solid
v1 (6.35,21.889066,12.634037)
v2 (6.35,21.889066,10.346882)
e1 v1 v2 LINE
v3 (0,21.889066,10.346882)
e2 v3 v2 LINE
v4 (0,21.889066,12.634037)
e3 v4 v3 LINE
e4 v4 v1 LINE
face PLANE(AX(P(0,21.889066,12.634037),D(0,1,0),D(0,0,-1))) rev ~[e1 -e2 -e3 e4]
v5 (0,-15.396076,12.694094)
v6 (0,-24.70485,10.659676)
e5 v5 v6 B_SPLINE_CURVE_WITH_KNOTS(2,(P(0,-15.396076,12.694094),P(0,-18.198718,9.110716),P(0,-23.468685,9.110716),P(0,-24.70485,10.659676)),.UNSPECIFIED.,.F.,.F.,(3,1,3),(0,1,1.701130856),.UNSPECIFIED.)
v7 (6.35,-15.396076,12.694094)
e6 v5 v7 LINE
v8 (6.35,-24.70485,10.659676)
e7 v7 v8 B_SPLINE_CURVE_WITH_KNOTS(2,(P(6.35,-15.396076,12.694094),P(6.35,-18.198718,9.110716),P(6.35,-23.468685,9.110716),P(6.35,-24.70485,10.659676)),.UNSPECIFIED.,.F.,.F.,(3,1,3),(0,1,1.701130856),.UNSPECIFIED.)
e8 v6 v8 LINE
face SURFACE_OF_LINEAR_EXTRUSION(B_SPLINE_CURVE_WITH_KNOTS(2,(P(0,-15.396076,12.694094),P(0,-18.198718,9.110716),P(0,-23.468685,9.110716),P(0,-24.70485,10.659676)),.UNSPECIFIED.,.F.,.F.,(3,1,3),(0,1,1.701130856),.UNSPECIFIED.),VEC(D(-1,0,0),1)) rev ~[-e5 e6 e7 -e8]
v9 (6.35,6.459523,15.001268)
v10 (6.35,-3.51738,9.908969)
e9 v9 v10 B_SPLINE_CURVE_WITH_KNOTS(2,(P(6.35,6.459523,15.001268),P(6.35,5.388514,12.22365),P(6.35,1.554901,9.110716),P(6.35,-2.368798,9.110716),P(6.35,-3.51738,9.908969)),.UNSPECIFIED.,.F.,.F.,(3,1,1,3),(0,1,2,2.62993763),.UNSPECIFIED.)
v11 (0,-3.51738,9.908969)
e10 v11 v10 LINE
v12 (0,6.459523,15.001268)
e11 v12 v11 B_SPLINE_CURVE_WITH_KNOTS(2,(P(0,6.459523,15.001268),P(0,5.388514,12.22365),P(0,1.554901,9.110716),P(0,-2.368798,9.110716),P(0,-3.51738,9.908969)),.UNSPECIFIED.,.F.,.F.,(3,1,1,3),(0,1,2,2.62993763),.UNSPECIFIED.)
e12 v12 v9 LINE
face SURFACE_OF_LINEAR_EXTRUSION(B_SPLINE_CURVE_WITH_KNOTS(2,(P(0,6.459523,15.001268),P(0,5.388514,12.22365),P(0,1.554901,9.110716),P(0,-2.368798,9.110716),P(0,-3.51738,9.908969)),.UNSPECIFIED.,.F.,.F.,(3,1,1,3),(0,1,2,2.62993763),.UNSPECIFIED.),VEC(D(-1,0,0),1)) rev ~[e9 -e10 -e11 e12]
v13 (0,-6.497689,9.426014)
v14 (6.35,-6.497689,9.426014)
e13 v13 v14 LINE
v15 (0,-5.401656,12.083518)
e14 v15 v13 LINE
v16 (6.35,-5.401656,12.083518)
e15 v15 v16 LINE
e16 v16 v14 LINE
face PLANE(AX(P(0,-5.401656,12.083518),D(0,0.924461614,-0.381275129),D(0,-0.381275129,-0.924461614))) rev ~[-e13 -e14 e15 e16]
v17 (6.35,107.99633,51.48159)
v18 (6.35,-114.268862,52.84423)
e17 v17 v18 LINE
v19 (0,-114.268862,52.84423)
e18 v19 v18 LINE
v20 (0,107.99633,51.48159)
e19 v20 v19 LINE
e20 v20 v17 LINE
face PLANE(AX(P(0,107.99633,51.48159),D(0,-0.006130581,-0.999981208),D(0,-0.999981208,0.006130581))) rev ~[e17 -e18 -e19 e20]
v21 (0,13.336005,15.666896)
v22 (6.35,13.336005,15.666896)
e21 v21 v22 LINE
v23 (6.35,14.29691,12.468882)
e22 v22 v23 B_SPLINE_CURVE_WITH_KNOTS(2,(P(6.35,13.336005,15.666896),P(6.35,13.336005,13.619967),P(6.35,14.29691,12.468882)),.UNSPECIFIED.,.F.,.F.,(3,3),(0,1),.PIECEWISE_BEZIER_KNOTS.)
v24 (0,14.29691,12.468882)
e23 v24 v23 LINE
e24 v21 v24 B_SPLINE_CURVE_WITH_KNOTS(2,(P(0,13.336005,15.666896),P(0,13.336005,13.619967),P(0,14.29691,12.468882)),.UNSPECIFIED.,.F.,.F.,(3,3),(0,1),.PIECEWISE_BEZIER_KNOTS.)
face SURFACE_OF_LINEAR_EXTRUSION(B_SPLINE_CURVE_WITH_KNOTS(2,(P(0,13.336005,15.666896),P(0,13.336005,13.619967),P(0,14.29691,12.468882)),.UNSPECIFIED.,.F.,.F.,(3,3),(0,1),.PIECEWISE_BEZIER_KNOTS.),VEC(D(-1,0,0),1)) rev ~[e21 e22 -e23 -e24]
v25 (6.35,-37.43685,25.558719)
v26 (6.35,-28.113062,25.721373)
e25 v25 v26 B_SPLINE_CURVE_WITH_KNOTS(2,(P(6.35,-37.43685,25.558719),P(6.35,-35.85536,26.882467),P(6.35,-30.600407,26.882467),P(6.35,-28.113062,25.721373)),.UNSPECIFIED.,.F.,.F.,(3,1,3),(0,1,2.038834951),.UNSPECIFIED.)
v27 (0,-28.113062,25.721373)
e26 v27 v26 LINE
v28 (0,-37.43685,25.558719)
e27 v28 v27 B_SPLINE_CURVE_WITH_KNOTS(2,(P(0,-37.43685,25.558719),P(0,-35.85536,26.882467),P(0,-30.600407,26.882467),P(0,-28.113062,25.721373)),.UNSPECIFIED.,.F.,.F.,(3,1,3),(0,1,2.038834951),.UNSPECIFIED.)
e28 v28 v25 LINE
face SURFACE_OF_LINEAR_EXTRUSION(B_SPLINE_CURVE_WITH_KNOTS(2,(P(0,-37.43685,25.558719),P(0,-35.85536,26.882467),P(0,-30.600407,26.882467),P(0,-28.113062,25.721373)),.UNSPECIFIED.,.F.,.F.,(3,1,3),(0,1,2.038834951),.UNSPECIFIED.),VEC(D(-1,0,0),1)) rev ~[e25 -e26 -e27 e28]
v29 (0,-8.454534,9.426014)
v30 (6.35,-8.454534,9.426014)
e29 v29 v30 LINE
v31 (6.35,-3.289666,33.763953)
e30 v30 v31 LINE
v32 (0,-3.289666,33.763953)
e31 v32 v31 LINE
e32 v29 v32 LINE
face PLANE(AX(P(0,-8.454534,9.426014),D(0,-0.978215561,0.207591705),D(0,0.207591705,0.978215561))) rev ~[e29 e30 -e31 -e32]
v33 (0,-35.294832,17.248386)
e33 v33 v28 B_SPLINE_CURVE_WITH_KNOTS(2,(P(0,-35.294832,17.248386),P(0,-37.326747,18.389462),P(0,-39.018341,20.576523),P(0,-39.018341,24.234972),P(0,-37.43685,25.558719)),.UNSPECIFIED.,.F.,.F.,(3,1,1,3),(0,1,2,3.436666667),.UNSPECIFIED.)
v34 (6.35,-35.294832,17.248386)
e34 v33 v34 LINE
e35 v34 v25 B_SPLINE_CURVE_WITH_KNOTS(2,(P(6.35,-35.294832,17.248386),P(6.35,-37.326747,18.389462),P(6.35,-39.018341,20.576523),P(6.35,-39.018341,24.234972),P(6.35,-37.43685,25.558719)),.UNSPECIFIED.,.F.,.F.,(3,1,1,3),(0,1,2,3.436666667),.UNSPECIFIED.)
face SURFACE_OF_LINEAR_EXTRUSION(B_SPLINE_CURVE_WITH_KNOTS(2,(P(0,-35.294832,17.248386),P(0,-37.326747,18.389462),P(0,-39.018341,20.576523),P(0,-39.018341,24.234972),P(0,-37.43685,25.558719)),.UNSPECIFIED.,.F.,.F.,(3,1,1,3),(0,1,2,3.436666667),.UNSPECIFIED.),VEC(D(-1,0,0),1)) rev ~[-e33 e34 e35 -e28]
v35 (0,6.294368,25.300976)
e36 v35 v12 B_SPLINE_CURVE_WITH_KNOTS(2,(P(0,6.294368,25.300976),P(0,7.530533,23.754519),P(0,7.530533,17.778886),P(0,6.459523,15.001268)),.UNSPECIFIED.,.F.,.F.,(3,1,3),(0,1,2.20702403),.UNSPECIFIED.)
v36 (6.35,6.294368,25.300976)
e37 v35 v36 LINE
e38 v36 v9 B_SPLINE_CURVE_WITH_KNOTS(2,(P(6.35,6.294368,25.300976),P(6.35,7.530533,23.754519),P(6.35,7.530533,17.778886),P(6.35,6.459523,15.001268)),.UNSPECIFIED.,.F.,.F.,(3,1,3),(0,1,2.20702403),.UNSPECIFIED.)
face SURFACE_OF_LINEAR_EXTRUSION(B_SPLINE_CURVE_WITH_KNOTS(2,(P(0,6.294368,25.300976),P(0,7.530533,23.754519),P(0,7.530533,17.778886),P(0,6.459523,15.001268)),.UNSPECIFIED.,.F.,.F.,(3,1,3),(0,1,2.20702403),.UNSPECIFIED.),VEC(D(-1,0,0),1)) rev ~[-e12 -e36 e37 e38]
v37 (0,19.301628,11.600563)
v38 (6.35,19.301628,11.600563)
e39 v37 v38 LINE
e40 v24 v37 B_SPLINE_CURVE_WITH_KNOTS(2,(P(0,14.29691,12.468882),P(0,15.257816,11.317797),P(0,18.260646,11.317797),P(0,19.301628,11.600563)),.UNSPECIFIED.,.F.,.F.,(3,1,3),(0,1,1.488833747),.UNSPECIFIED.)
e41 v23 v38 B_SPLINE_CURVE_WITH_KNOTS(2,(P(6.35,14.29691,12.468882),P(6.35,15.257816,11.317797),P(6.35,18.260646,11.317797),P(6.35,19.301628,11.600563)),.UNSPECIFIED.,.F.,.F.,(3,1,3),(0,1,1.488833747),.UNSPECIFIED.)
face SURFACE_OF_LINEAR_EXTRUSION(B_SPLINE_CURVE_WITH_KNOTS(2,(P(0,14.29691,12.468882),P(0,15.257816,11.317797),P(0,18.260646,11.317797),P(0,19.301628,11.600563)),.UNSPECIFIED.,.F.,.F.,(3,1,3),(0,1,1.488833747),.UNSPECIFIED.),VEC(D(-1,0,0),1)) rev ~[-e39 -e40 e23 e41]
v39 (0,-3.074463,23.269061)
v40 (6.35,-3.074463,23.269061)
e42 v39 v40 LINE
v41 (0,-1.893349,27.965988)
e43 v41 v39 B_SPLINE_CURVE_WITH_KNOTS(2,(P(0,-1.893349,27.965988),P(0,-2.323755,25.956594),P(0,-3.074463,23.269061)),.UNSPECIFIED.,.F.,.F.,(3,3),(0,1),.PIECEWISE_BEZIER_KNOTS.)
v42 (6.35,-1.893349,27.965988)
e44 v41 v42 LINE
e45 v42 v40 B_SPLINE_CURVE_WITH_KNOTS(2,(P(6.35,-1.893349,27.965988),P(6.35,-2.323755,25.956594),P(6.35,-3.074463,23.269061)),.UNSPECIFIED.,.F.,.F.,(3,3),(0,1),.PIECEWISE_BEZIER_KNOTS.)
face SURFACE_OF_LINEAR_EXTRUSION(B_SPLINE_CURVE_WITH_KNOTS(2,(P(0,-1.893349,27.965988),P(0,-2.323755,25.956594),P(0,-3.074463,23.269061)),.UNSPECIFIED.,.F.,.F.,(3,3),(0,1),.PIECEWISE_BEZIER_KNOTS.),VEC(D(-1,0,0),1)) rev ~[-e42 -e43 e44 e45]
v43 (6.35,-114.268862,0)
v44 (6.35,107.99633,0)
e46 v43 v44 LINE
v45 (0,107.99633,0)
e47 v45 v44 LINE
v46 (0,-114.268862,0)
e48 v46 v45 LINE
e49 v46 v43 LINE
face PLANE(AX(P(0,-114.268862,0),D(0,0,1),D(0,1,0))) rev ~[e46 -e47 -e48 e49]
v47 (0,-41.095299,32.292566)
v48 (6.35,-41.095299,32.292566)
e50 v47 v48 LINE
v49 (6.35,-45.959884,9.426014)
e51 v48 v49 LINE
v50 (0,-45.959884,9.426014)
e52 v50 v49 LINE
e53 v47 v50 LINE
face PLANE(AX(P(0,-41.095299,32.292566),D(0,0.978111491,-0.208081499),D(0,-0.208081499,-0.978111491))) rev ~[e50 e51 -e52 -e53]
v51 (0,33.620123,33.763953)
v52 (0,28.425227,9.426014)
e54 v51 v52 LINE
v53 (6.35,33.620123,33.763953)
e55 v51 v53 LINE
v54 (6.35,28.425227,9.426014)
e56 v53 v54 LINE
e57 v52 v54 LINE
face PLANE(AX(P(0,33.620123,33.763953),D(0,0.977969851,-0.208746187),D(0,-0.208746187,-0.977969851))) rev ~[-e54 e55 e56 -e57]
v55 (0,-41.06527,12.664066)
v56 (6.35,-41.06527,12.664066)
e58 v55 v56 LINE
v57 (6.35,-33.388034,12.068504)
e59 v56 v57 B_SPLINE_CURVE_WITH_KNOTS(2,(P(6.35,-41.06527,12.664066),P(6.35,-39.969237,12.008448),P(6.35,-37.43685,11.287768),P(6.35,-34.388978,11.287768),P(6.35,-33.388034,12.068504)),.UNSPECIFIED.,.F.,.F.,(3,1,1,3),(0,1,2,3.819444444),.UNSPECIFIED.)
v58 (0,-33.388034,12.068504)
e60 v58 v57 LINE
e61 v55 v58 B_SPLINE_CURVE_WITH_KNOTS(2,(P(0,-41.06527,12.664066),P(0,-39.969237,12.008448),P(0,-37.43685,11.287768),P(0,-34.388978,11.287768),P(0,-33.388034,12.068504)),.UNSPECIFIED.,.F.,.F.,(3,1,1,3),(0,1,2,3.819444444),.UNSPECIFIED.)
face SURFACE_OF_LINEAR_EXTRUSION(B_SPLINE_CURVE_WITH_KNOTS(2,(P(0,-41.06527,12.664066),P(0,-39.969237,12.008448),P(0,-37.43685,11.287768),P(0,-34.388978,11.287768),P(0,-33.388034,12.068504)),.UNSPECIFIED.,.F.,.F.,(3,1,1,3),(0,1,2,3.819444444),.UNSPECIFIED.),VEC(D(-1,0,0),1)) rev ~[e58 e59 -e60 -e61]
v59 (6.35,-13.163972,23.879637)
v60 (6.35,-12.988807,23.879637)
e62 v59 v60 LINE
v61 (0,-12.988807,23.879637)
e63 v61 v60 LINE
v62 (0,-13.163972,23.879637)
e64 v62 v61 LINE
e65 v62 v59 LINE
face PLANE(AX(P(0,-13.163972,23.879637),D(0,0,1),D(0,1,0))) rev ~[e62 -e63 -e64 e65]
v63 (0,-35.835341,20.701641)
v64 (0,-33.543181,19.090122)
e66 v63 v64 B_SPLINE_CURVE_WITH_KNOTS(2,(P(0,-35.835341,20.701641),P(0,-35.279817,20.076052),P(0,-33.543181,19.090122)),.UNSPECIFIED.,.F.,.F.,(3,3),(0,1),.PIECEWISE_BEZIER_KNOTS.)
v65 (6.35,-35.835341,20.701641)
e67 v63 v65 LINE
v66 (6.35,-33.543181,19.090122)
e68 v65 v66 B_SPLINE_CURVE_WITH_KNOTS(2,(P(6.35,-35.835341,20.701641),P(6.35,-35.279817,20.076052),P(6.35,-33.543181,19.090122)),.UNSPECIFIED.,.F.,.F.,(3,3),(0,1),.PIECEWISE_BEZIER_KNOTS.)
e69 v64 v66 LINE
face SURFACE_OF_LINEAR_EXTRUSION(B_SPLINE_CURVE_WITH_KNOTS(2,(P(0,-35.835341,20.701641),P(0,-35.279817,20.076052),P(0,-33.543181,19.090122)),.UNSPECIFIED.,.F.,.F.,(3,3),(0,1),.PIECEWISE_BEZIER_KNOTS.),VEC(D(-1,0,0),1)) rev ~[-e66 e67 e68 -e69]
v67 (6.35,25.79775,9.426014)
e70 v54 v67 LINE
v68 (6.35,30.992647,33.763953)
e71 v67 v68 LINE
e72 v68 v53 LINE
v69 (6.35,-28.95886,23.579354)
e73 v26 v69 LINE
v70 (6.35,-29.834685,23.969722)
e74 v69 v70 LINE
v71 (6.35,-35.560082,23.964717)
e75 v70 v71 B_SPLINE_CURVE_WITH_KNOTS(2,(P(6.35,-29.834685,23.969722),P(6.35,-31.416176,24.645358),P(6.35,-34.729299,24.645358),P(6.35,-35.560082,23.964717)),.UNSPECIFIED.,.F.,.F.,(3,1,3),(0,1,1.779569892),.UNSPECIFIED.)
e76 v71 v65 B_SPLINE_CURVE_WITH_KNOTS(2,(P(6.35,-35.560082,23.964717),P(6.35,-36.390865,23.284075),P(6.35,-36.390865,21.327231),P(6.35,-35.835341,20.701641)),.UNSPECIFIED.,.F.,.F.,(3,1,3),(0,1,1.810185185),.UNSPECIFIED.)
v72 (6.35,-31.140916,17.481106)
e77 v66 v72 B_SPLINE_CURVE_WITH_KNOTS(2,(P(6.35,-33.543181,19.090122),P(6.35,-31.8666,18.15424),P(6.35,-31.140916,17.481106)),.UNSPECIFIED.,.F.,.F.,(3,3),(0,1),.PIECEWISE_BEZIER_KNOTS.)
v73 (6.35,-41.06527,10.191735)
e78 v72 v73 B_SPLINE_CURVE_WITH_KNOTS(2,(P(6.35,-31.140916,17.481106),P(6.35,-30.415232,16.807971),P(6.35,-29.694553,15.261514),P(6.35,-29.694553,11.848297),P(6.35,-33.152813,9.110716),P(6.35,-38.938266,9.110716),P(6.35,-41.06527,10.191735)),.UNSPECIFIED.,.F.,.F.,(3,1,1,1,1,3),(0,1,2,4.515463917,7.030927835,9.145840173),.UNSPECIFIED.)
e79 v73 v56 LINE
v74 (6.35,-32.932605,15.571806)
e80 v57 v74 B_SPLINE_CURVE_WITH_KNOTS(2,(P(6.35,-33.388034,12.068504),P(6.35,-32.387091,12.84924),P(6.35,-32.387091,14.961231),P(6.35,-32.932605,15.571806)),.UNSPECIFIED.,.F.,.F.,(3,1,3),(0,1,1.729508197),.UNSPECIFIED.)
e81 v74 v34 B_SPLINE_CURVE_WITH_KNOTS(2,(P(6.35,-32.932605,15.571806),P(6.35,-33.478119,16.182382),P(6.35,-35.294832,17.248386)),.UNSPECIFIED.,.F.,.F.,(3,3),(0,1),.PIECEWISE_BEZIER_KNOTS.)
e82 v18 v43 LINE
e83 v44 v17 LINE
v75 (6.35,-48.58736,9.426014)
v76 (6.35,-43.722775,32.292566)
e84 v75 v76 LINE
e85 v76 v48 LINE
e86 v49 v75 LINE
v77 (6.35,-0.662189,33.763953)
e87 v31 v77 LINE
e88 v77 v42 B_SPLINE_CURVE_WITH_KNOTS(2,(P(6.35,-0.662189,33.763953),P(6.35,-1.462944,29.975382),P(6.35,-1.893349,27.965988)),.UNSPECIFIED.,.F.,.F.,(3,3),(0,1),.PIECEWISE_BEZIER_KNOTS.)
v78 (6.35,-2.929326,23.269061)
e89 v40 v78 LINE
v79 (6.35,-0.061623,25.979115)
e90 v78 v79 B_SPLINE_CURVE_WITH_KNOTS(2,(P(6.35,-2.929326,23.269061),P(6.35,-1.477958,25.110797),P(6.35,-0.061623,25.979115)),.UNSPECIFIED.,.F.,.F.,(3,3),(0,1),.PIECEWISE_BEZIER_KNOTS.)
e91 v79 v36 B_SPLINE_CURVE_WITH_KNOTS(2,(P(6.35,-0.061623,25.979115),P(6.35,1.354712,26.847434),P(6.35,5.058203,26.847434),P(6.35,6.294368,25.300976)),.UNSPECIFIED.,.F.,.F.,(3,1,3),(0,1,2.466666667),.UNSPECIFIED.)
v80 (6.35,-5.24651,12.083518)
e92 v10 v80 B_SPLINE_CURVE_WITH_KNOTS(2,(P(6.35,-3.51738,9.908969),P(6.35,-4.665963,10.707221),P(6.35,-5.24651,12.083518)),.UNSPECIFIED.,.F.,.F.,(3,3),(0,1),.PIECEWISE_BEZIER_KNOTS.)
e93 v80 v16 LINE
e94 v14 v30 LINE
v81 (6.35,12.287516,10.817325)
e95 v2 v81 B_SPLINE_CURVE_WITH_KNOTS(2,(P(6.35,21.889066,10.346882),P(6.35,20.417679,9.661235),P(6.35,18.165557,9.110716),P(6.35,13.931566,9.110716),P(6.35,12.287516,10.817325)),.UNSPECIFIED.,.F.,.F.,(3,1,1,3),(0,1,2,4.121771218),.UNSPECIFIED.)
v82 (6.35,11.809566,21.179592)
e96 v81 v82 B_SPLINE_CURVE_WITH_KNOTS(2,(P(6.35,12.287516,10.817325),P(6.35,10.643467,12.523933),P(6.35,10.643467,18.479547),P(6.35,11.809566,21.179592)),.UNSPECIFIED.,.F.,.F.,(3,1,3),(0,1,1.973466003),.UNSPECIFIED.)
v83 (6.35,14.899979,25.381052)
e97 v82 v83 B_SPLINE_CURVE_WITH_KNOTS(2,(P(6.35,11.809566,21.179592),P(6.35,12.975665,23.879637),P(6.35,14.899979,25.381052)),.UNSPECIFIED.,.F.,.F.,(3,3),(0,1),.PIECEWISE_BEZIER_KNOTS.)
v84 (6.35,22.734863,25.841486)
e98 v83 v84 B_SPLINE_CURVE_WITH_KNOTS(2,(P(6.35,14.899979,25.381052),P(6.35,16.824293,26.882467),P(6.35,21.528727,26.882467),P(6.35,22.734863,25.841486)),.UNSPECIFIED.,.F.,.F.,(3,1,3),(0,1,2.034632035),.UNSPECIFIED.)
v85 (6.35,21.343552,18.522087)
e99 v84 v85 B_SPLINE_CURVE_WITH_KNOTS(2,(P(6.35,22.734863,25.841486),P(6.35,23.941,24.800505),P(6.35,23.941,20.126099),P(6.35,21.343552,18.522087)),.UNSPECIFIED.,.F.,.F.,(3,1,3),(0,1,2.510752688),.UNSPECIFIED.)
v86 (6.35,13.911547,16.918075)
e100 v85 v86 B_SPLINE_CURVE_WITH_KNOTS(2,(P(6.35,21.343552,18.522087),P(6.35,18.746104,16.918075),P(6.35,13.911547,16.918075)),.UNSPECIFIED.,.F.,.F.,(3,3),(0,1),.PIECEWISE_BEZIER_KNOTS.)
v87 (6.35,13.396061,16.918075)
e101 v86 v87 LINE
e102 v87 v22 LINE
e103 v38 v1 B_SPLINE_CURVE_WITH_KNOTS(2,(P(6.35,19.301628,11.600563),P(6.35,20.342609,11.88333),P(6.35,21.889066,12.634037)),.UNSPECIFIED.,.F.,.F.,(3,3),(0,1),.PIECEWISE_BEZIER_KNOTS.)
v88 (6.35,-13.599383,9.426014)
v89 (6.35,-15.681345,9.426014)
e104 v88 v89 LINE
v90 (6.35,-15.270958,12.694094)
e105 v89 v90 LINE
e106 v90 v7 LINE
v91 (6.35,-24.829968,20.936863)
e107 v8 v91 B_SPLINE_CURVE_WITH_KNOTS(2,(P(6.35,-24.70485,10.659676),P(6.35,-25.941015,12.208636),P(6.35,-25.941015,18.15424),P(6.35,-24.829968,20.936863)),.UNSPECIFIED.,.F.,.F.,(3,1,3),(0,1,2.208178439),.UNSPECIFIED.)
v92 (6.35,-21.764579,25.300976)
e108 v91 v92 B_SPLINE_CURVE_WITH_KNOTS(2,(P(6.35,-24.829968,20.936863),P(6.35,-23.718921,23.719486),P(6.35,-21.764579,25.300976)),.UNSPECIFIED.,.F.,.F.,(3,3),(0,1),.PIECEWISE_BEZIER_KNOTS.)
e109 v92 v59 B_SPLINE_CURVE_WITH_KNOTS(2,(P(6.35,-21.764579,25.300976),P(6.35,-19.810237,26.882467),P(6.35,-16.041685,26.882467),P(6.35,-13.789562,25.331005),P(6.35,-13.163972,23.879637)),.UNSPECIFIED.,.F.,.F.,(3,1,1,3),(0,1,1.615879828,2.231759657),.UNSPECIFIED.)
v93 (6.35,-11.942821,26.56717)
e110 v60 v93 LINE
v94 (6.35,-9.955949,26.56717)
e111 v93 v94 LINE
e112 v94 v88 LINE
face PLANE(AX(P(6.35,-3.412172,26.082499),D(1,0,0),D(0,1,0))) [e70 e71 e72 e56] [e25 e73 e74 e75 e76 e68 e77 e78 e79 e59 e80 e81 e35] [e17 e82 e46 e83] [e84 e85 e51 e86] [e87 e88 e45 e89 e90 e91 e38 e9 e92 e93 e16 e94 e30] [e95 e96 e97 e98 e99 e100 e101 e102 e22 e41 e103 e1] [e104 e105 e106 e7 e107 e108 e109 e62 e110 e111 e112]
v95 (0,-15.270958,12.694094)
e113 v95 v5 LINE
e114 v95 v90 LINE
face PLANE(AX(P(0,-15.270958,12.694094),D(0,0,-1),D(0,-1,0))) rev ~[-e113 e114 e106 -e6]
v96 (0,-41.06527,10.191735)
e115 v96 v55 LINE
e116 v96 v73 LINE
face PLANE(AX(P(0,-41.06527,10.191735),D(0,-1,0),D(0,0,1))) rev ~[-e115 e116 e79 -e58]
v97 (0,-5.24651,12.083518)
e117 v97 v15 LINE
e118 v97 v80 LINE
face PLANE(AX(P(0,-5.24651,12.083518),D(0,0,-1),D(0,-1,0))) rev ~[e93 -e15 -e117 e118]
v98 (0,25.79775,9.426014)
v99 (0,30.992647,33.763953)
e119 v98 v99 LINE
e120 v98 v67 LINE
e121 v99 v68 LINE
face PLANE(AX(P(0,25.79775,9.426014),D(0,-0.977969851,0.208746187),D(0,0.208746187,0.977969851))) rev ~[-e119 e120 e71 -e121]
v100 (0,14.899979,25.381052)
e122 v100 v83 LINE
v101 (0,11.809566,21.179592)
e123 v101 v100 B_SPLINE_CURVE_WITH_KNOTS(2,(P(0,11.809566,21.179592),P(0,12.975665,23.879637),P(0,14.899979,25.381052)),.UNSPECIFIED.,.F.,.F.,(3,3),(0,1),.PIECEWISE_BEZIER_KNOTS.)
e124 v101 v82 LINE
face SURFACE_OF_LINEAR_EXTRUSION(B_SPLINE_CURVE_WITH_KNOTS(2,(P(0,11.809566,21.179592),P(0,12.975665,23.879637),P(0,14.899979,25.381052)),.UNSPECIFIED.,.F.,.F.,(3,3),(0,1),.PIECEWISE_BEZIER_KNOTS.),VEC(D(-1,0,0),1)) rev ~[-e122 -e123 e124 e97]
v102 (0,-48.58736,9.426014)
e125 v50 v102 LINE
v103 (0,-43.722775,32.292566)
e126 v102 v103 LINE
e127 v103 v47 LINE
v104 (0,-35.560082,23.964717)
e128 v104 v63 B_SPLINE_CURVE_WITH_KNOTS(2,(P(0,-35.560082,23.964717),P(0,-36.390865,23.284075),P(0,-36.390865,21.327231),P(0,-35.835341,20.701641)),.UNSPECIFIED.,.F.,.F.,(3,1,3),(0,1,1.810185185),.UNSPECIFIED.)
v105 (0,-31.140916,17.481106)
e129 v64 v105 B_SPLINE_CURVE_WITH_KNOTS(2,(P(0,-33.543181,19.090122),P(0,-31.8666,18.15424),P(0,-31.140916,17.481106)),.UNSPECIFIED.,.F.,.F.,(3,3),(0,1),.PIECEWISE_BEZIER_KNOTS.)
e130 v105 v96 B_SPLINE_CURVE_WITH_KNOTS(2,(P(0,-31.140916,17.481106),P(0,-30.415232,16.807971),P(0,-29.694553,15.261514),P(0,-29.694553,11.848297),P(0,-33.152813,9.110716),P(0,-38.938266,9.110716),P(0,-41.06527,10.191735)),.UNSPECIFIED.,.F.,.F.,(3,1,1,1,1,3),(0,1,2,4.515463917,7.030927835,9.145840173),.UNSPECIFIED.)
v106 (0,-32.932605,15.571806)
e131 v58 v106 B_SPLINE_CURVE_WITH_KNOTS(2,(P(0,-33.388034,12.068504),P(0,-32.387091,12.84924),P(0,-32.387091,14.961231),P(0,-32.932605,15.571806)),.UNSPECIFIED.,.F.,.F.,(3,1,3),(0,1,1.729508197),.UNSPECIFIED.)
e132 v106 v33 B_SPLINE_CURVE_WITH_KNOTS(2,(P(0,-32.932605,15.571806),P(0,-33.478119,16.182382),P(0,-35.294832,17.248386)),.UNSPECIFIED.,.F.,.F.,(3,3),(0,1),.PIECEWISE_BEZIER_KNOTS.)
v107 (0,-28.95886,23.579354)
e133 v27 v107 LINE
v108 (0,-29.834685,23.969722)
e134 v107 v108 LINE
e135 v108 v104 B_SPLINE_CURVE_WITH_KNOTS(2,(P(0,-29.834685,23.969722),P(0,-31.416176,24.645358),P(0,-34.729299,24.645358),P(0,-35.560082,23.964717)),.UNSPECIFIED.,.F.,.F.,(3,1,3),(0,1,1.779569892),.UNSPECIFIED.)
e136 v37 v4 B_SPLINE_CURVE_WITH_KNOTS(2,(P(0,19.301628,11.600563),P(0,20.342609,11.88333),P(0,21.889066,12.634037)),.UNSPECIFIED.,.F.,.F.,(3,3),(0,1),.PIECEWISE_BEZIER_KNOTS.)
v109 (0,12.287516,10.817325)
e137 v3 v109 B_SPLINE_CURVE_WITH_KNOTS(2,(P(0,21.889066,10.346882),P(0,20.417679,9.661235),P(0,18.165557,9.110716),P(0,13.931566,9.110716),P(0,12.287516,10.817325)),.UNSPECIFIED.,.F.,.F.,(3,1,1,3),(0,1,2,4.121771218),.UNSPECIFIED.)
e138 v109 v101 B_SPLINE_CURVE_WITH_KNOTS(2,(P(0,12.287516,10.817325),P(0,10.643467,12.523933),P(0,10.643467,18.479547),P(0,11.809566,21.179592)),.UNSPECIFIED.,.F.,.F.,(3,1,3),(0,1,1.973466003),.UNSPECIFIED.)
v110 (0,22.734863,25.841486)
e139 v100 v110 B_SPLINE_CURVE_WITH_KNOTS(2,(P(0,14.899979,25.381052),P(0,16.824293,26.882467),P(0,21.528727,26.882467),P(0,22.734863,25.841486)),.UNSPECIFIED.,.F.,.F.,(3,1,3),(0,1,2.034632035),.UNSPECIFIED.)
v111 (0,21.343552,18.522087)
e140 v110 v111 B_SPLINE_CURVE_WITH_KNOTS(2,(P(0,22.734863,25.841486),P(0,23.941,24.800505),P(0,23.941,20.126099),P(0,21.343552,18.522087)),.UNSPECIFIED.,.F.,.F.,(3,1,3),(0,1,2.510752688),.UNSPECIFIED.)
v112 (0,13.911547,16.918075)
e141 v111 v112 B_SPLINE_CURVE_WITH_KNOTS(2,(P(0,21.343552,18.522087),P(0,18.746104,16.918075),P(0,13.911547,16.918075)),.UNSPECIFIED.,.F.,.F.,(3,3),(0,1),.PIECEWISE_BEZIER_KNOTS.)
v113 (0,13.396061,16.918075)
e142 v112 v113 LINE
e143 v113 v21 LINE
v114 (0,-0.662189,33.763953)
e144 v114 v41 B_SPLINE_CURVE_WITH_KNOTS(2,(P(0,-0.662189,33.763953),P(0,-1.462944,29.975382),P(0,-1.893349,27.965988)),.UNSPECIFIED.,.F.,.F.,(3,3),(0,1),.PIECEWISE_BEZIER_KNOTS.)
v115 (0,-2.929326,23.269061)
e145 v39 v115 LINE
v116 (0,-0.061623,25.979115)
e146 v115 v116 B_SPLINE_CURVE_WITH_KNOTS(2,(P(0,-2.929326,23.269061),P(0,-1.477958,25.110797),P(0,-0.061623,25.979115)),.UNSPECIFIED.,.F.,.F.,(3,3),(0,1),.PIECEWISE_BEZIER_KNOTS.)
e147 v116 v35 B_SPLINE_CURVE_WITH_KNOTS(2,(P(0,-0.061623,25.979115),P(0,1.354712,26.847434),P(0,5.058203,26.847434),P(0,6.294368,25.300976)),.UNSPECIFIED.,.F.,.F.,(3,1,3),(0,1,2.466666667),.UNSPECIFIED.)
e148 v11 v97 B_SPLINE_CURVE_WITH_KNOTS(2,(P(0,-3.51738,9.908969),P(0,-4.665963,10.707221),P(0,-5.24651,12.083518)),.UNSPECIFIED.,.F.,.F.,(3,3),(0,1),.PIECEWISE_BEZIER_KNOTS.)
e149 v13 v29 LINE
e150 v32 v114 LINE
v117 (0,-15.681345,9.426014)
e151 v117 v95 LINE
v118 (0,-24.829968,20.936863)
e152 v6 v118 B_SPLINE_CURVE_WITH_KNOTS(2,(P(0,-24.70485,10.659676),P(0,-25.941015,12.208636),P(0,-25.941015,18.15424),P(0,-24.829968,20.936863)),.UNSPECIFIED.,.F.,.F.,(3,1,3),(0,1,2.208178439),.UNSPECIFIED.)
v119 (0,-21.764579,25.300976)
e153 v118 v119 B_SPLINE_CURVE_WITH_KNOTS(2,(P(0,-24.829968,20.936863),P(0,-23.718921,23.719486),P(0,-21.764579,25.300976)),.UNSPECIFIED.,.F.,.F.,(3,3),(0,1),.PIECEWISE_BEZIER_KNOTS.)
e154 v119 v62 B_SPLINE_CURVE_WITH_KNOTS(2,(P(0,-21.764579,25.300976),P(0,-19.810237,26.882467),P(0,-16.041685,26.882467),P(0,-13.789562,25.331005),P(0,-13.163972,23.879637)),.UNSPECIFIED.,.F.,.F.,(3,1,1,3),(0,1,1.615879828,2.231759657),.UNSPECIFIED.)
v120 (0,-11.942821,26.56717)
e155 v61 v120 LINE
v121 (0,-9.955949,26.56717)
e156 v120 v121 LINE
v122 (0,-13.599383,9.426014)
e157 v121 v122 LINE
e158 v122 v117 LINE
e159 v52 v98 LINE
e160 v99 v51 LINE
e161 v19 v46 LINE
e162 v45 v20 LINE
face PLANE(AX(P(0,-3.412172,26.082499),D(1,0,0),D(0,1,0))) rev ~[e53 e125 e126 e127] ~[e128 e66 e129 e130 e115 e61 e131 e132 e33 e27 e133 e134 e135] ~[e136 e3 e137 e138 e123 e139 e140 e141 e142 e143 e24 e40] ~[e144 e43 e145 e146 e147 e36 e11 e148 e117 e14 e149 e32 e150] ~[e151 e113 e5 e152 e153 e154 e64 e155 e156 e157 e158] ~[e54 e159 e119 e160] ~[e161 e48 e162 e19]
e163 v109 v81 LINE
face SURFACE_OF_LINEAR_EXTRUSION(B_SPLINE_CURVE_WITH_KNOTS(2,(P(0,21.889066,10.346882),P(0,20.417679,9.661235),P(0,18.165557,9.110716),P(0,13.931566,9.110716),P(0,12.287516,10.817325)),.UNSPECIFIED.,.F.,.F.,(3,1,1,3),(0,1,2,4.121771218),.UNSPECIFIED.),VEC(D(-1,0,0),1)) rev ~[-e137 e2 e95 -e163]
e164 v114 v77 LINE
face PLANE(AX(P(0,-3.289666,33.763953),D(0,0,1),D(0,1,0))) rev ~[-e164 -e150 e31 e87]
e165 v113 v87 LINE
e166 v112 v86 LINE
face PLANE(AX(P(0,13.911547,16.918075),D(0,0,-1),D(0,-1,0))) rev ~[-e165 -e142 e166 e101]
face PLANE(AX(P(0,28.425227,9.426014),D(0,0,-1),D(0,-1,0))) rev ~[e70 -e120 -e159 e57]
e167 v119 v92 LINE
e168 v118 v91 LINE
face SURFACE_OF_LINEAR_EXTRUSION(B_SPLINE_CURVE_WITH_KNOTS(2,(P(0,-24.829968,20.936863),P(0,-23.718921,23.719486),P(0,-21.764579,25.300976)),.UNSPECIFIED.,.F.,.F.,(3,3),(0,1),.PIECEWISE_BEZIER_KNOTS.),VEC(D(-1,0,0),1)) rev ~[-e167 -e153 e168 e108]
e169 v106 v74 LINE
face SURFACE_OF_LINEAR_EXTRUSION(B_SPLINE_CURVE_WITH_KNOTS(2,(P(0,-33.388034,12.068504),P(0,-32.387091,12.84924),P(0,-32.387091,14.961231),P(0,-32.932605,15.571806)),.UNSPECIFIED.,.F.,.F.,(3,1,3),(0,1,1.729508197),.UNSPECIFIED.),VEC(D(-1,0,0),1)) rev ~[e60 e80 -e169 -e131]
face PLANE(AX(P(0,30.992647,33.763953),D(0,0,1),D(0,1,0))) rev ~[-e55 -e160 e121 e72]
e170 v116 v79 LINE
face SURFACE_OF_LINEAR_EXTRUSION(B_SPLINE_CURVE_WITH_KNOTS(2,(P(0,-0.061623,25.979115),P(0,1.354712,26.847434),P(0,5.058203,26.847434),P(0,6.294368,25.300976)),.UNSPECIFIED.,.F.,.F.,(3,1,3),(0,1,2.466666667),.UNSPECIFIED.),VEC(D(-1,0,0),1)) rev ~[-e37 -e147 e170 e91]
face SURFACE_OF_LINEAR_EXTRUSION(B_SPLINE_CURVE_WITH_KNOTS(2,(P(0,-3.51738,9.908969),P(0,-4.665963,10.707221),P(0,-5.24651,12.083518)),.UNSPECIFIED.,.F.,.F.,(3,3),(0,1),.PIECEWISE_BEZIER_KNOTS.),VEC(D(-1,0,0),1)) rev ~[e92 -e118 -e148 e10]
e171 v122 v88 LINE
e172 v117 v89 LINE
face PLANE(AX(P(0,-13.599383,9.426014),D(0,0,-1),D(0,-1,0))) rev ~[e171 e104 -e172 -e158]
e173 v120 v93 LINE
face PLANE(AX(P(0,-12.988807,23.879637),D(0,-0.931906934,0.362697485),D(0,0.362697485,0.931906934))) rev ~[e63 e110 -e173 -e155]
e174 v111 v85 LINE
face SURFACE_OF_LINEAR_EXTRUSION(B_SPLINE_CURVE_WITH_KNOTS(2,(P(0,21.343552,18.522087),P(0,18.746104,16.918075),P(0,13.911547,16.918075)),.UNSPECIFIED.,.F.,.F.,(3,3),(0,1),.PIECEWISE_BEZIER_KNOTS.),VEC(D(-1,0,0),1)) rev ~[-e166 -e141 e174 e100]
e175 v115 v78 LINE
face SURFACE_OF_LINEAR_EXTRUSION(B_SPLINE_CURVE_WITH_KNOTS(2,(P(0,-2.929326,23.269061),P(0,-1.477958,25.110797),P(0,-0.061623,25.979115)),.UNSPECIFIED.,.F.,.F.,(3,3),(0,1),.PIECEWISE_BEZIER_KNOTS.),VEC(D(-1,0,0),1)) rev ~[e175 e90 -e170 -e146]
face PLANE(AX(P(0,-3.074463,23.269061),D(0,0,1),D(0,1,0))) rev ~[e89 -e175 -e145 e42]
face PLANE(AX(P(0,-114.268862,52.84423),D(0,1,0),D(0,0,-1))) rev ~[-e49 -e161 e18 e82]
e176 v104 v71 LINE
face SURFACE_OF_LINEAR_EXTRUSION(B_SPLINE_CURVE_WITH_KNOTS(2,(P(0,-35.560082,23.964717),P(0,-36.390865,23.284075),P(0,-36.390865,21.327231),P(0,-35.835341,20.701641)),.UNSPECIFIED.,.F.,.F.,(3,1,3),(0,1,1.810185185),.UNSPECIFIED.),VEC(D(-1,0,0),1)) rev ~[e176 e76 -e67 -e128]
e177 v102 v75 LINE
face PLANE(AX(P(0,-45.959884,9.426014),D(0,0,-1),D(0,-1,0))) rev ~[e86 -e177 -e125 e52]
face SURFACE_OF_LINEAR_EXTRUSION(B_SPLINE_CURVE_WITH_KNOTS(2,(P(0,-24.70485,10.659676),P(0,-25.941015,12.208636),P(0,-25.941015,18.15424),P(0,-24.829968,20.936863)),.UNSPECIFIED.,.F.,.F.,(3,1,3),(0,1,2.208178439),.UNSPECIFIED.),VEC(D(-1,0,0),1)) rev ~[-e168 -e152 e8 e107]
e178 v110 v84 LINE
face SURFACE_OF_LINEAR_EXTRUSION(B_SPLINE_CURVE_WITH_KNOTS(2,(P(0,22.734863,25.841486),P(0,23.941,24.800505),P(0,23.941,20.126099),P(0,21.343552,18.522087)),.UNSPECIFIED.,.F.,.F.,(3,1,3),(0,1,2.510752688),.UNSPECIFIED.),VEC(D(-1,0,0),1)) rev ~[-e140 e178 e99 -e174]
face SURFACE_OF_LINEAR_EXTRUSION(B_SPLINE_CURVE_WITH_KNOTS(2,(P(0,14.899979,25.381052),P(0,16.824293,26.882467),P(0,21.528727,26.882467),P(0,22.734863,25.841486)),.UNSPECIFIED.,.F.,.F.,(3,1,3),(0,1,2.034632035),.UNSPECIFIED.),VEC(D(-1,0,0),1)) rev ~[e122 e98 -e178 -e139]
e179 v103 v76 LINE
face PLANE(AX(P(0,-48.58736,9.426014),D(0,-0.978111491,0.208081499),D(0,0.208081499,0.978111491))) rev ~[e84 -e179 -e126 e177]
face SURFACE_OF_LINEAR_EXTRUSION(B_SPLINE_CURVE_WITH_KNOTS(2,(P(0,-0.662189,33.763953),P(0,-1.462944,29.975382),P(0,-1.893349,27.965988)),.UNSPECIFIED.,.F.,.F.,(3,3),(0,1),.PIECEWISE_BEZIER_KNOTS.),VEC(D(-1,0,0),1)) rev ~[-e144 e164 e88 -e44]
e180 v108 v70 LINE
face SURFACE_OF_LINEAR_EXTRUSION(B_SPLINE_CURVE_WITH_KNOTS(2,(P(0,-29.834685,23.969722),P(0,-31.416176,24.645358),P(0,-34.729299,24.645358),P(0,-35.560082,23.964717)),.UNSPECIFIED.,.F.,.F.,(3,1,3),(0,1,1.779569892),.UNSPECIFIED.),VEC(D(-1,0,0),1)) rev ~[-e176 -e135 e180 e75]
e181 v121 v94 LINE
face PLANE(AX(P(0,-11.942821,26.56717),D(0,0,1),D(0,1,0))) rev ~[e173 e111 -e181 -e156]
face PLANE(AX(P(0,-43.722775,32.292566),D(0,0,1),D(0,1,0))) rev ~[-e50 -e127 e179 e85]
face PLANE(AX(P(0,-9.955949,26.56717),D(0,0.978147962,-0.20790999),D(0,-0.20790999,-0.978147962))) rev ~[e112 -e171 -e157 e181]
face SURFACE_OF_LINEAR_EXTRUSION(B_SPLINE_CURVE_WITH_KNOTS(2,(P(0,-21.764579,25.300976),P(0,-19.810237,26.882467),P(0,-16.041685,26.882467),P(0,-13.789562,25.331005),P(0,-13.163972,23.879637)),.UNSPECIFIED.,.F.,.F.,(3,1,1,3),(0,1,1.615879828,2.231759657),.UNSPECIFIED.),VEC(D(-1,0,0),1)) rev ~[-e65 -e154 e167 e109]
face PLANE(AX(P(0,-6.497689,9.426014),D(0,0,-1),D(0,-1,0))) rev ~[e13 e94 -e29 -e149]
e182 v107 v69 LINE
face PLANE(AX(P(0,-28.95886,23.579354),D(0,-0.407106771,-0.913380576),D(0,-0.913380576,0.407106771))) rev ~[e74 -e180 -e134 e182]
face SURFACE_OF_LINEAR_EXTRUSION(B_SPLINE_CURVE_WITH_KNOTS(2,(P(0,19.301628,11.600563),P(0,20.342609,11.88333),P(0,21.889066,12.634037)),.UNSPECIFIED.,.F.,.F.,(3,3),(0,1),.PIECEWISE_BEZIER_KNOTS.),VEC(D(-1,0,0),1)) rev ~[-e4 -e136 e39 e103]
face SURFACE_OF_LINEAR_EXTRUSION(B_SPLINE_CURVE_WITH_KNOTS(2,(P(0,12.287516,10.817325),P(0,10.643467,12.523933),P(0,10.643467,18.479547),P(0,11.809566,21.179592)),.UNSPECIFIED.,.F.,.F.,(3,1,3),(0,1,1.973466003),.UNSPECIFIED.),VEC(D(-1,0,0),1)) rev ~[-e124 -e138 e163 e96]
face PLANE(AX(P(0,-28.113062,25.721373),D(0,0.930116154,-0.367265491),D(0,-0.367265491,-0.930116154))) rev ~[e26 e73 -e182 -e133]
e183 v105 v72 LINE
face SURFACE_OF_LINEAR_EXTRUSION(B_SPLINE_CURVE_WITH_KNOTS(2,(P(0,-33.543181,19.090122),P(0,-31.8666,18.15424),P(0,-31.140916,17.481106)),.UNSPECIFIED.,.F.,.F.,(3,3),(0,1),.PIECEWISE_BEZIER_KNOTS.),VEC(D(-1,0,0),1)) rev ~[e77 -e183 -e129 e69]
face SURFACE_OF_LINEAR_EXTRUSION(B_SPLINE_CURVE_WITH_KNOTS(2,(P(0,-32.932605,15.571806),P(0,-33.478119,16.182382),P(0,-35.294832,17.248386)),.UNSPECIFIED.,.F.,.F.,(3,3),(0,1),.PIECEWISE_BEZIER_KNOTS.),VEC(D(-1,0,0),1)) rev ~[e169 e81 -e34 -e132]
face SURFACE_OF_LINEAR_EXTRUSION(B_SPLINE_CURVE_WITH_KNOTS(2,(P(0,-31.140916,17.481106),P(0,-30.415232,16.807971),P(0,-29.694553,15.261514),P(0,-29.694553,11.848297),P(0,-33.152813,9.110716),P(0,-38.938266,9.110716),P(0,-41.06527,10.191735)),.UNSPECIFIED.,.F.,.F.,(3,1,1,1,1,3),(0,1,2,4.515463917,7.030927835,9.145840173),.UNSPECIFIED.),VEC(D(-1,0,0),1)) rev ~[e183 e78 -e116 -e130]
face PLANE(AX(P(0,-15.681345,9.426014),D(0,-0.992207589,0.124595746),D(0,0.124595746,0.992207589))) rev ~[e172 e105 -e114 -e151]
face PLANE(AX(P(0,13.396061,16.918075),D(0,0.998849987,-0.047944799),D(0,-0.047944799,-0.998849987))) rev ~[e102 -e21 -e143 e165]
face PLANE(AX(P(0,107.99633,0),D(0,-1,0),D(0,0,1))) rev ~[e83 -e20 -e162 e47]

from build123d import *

# Parameters (mm, degrees)
F1_DEPTH = 6.35


with BuildPart() as f1:
    # F0 (on Right) → F1 (new body)
    with BuildSketch(Plane.YZ):
        Polygon((107.9963296652, 51.4815896749), (-114.268861711, 52.8442300856), (-114.268861711, 0), (107.9963296652, 0), align=None)
        with BuildLine():
            add(Edge.make_bspline(
                [(-30.0548927116, 16.0347425229), (-29.694553079, 15.2615137279), (-29.694553079, 14.2905986067)],
                knots=[0, 0, 0, 1, 1, 1], degree=2))
            add(Edge.make_bspline(
                [(-29.694553079, 14.2905986067), (-29.694553079, 11.8482966524), (-31.4236828438, 10.4795065202)],
                knots=[0, 0, 0, 1, 1, 1], degree=2))
            add(Edge.make_bspline(
                [(-31.4236828438, 10.4795065202), (-33.1528126086, 9.110716388), (-36.2957749597, 9.110716388)],
                knots=[0, 0, 0, 1, 1, 1], degree=2))
            add(Edge.make_bspline(
                [(-36.2957749597, 9.110716388), (-38.9382655988, 9.110716388), (-41.0652703746, 10.1917352858)],
                knots=[0, 0, 0, 1, 1, 1], degree=2))
            Line((-41.0652703746, 10.1917352858), (-41.0652703746, 12.6640655429))
            add(Edge.make_bspline(
                [(-41.0652703746, 12.6640655429), (-39.9692373254, 12.0084476002), (-38.7030438942, 11.6481079676)],
                knots=[0, 0, 0, 1, 1, 1], degree=2))
            add(Edge.make_bspline(
                [(-38.7030438942, 11.6481079676), (-37.436850463, 11.287768335), (-36.3558315651, 11.287768335)],
                knots=[0, 0, 0, 1, 1, 1], degree=2))
            add(Edge.make_bspline(
                [(-36.3558315651, 11.287768335), (-34.3889777372, 11.287768335), (-33.3880343132, 12.0685042057)],
                knots=[0, 0, 0, 1, 1, 1], degree=2))
            add(Edge.make_bspline(
                [(-33.3880343132, 12.0685042057), (-32.3870908893, 12.8492400763), (-32.3870908893, 14.0703910535)],
                knots=[0, 0, 0, 1, 1, 1], degree=2))
            add(Edge.make_bspline(
                [(-32.3870908893, 14.0703910535), (-32.3870908893, 14.9612307008), (-32.9326050554, 15.5718061894)],
                knots=[0, 0, 0, 1, 1, 1], degree=2))
            add(Edge.make_bspline(
                [(-32.9326050554, 15.5718061894), (-33.4781192214, 16.1823816779), (-35.2948315358, 17.2483864244)],
                knots=[0, 0, 0, 1, 1, 1], degree=2))
            add(Edge.make_bspline(
                [(-35.2948315358, 17.2483864244), (-37.3267466863, 18.3894619277), (-38.1725438795, 19.4829926183)],
                knots=[0, 0, 0, 1, 1, 1], degree=2))
            add(Edge.make_bspline(
                [(-38.1725438795, 19.4829926183), (-39.0183410727, 20.5765233089), (-39.0183410727, 22.0779384448)],
                knots=[0, 0, 0, 1, 1, 1], degree=2))
            add(Edge.make_bspline(
                [(-39.0183410727, 22.0779384448), (-39.0183410727, 24.2349715233), (-37.436850463, 25.5587192014)],
                knots=[0, 0, 0, 1, 1, 1], degree=2))
            add(Edge.make_bspline(
                [(-37.436850463, 25.5587192014), (-35.8553598532, 26.8824668795), (-33.2779305366, 26.8824668795)],
                knots=[0, 0, 0, 1, 1, 1], degree=2))
            add(Edge.make_bspline(
                [(-33.2779305366, 26.8824668795), (-30.6004068777, 26.8824668795), (-28.1130624692, 25.7213725078)],
                knots=[0, 0, 0, 1, 1, 1], degree=2))
            Line((-28.1130624692, 25.7213725078), (-28.9588596625, 23.5793535806))
            Line((-28.9588596625, 23.5793535806), (-29.8346851584, 23.9697215159))
            add(Edge.make_bspline(
                [(-29.8346851584, 23.9697215159), (-31.4161757681, 24.6453583271), (-33.2779305366, 24.6453583271)],
                knots=[0, 0, 0, 1, 1, 1], degree=2))
            add(Edge.make_bspline(
                [(-33.2779305366, 24.6453583271), (-34.7292985013, 24.6453583271), (-35.5600815431, 23.9647167988)],
                knots=[0, 0, 0, 1, 1, 1], degree=2))
            add(Edge.make_bspline(
                [(-35.5600815431, 23.9647167988), (-36.390864585, 23.2840752706), (-36.390864585, 22.2030563727)],
                knots=[0, 0, 0, 1, 1, 1], degree=2))
            add(Edge.make_bspline(
                [(-36.390864585, 22.2030563727), (-36.390864585, 21.3272308768), (-35.8353409847, 20.7016412369)],
                knots=[0, 0, 0, 1, 1, 1], degree=2))
            add(Edge.make_bspline(
                [(-35.8353409847, 20.7016412369), (-35.2798173844, 20.0760515969), (-33.543180544, 19.0901223244)],
                knots=[0, 0, 0, 1, 1, 1], degree=2))
            add(Edge.make_bspline(
                [(-33.543180544, 19.0901223244), (-31.8666003089, 18.154240223), (-31.1409163266, 17.4811057705)],
                knots=[0, 0, 0, 1, 1, 1], degree=2))
            add(Edge.make_bspline(
                [(-31.1409163266, 17.4811057705), (-30.4152323442, 16.8079713179), (-30.0548927116, 16.0347425229)],
                knots=[0, 0, 0, 1, 1, 1], degree=2))
        make_face(mode=Mode.SUBTRACT)
        with BuildLine():
            add(Edge.make_bspline(
                [(-21.7645788031, 25.3009762697), (-19.8102367679, 26.8824668795), (-17.4780385902, 26.8824668795)],
                knots=[0, 0, 0, 1, 1, 1], degree=2))
            add(Edge.make_bspline(
                [(-17.4780385902, 26.8824668795), (-16.0416847769, 26.8824668795), (-14.915623425, 26.106735726)],
                knots=[0, 0, 0, 1, 1, 1], degree=2))
            add(Edge.make_bspline(
                [(-14.915623425, 26.106735726), (-13.7895620731, 25.3310045725), (-13.1639724332, 23.8796366078)],
                knots=[0, 0, 0, 1, 1, 1], degree=2))
            Line((-13.1639724332, 23.8796366078), (-12.988807334, 23.8796366078))
            Line((-12.988807334, 23.8796366078), (-11.942821456, 26.567169701))
            Line((-11.942821456, 26.567169701), (-9.9559487595, 26.567169701))
            Line((-9.9559487595, 26.567169701), (-13.5993828226, 9.4260135666))
            Line((-13.5993828226, 9.4260135666), (-15.6813451443, 9.4260135666))
            Line((-15.6813451443, 9.4260135666), (-15.2709583405, 12.6940938456))
            Line((-15.2709583405, 12.6940938456), (-15.3960762685, 12.6940938456))
            add(Edge.make_bspline(
                [(-15.3960762685, 12.6940938456), (-18.1987178554, 9.110716388), (-21.2966377524, 9.110716388)],
                knots=[0, 0, 0, 1, 1, 1], degree=2))
            add(Edge.make_bspline(
                [(-21.2966377524, 9.110716388), (-23.4686849823, 9.110716388), (-24.7048501108, 10.6596763365)],
                knots=[0, 0, 0, 1, 1, 1], degree=2))
            add(Edge.make_bspline(
                [(-24.7048501108, 10.6596763365), (-25.9410152394, 12.208636285), (-25.9410152394, 14.9011740953)],
                knots=[0, 0, 0, 1, 1, 1], degree=2))
            add(Edge.make_bspline(
                [(-25.9410152394, 14.9011740953), (-25.9410152394, 18.154240223), (-24.8299680388, 20.9368629415)],
                knots=[0, 0, 0, 1, 1, 1], degree=2))
            add(Edge.make_bspline(
                [(-24.8299680388, 20.9368629415), (-23.7189208383, 23.71948566), (-21.7645788031, 25.3009762697)],
                knots=[0, 0, 0, 1, 1, 1], degree=2))
        make_face(mode=Mode.SUBTRACT)
        Polygon((-45.9598837175, 9.4260135666), (-48.5873602053, 9.4260135666), (-43.7227751651, 32.2925660857), (-41.0952986773, 32.2925660857), align=None, mode=Mode.SUBTRACT)
        with BuildLine():
            add(Edge.make_bspline(
                [(19.2916180871, 9.3859758296), (18.1655567352, 9.110716388), (16.8092783958, 9.110716388)],
                knots=[0, 0, 0, 1, 1, 1], degree=2))
            add(Edge.make_bspline(
                [(16.8092783958, 9.110716388), (13.931566052, 9.110716388), (12.2875164783, 10.8173249258)],
                knots=[0, 0, 0, 1, 1, 1], degree=2))
            add(Edge.make_bspline(
                [(12.2875164783, 10.8173249258), (10.6434669045, 12.5239334636), (10.6434669045, 15.5417778866)],
                knots=[0, 0, 0, 1, 1, 1], degree=2))
            add(Edge.make_bspline(
                [(10.6434669045, 15.5417778866), (10.6434669045, 18.4795468358), (11.8095659933, 21.1795917218)],
                knots=[0, 0, 0, 1, 1, 1], degree=2))
            add(Edge.make_bspline(
                [(11.8095659933, 21.1795917218), (12.9756650822, 23.8796366078), (14.8999788147, 25.3810517437)],
                knots=[0, 0, 0, 1, 1, 1], degree=2))
            add(Edge.make_bspline(
                [(14.8999788147, 25.3810517437), (16.8242925471, 26.8824668795), (19.1364718564, 26.8824668795)],
                knots=[0, 0, 0, 1, 1, 1], degree=2))
            add(Edge.make_bspline(
                [(19.1364718564, 26.8824668795), (21.5287266395, 26.8824668795), (22.7348634653, 25.8414857187)],
                knots=[0, 0, 0, 1, 1, 1], degree=2))
            add(Edge.make_bspline(
                [(22.7348634653, 25.8414857187), (23.9410002911, 24.8005045578), (23.9410002911, 22.9387497893)],
                knots=[0, 0, 0, 1, 1, 1], degree=2))
            add(Edge.make_bspline(
                [(23.9410002911, 22.9387497893), (23.9410002911, 20.1260987681), (21.3435521061, 18.5220869313)],
                knots=[0, 0, 0, 1, 1, 1], degree=2))
            add(Edge.make_bspline(
                [(21.3435521061, 18.5220869313), (18.746103921, 16.9180750945), (13.9115471835, 16.9180750945)],
                knots=[0, 0, 0, 1, 1, 1], degree=2))
            Line((13.9115471835, 16.9180750945), (13.3960613202, 16.9180750945))
            Line((13.3960613202, 16.9180750945), (13.3360047148, 15.6668958146))
            add(Edge.make_bspline(
                [(13.3360047148, 15.6668958146), (13.3360047148, 13.6199665127), (14.2969104018, 12.4688815752)],
                knots=[0, 0, 0, 1, 1, 1], degree=2))
            add(Edge.make_bspline(
                [(14.2969104018, 12.4688815752), (15.2578160887, 11.3177966377), (17.2747170879, 11.3177966377)],
                knots=[0, 0, 0, 1, 1, 1], degree=2))
            add(Edge.make_bspline(
                [(17.2747170879, 11.3177966377), (18.2606463604, 11.3177966377), (19.3016275213, 11.600563155)],
                knots=[0, 0, 0, 1, 1, 1], degree=2))
            add(Edge.make_bspline(
                [(19.3016275213, 11.600563155), (20.3426086822, 11.8833296722), (21.8890662721, 12.6340372402)],
                knots=[0, 0, 0, 1, 1, 1], degree=2))
            Line((21.8890662721, 12.6340372402), (21.8890662721, 10.3468815165))
            add(Edge.make_bspline(
                [(21.8890662721, 10.3468815165), (20.417679439, 9.6612352712), (19.2916180871, 9.3859758296)],
                knots=[0, 0, 0, 1, 1, 1], degree=2))
        make_face(mode=Mode.SUBTRACT)
        with BuildLine():
            add(Edge.make_bspline(
                [(3.4717072722, 10.6671834122), (1.5549006154, 9.110716388), (-0.8523683191, 9.110716388)],
                knots=[0, 0, 0, 1, 1, 1], degree=2))
            add(Edge.make_bspline(
                [(-0.8523683191, 9.110716388), (-2.3687976063, 9.110716388), (-3.5173801853, 9.9089687686)],
                knots=[0, 0, 0, 1, 1, 1], degree=2))
            add(Edge.make_bspline(
                [(-3.5173801853, 9.9089687686), (-4.6659627642, 10.7072211492), (-5.2465099501, 12.083518357)],
                knots=[0, 0, 0, 1, 1, 1], degree=2))
            Line((-5.2465099501, 12.083518357), (-5.4016561808, 12.083518357))
            Line((-5.4016561808, 12.083518357), (-6.4976892299, 9.4260135666))
            Line((-6.4976892299, 9.4260135666), (-8.4545336237, 9.4260135666))
            Line((-8.4545336237, 9.4260135666), (-3.2896655563, 33.7639529189))
            Line((-3.2896655563, 33.7639529189), (-0.6621890686, 33.7639529189))
            add(Edge.make_bspline(
                [(-0.6621890686, 33.7639529189), (-1.4629438077, 29.9753820594), (-1.89334948, 27.9659881359)],
                knots=[0, 0, 0, 1, 1, 1], degree=2))
            add(Edge.make_bspline(
                [(-1.89334948, 27.9659881359), (-2.3237551522, 25.9565942124), (-3.0744627202, 23.2690611192)],
                knots=[0, 0, 0, 1, 1, 1], degree=2))
            Line((-3.0744627202, 23.2690611192), (-2.9293259237, 23.2690611192))
            add(Edge.make_bspline(
                [(-2.9293259237, 23.2690611192), (-1.477957959, 25.1107970192), (-0.0616230142, 25.9791154394)],
                knots=[0, 0, 0, 1, 1, 1], degree=2))
            add(Edge.make_bspline(
                [(-0.0616230142, 25.9791154394), (1.3547119306, 26.8474338597), (2.8561270665, 26.8474338597)],
                knots=[0, 0, 0, 1, 1, 1], degree=2))
            add(Edge.make_bspline(
                [(2.8561270665, 26.8474338597), (5.0582025991, 26.8474338597), (6.2943677276, 25.3009762697)],
                knots=[0, 0, 0, 1, 1, 1], degree=2))
            add(Edge.make_bspline(
                [(6.2943677276, 25.3009762697), (7.5305328561, 23.7545186798), (7.5305328561, 21.0469667181)],
                knots=[0, 0, 0, 1, 1, 1], degree=2))
            add(Edge.make_bspline(
                [(7.5305328561, 21.0469667181), (7.5305328561, 17.7788864391), (6.4595233926, 15.0012684377)],
                knots=[0, 0, 0, 1, 1, 1], degree=2))
            add(Edge.make_bspline(
                [(6.4595233926, 15.0012684377), (5.388513929, 12.2236504364), (3.4717072722, 10.6671834122)],
                knots=[0, 0, 0, 1, 1, 1], degree=2))
        make_face(mode=Mode.SUBTRACT)
        Polygon((33.6201232003, 33.7639529189), (28.4252268302, 9.4260135666), (25.7977503425, 9.4260135666), (30.9926467125, 33.7639529189), align=None, mode=Mode.SUBTRACT)
    extrude(amount=F1_DEPTH)


solid = f1.part
